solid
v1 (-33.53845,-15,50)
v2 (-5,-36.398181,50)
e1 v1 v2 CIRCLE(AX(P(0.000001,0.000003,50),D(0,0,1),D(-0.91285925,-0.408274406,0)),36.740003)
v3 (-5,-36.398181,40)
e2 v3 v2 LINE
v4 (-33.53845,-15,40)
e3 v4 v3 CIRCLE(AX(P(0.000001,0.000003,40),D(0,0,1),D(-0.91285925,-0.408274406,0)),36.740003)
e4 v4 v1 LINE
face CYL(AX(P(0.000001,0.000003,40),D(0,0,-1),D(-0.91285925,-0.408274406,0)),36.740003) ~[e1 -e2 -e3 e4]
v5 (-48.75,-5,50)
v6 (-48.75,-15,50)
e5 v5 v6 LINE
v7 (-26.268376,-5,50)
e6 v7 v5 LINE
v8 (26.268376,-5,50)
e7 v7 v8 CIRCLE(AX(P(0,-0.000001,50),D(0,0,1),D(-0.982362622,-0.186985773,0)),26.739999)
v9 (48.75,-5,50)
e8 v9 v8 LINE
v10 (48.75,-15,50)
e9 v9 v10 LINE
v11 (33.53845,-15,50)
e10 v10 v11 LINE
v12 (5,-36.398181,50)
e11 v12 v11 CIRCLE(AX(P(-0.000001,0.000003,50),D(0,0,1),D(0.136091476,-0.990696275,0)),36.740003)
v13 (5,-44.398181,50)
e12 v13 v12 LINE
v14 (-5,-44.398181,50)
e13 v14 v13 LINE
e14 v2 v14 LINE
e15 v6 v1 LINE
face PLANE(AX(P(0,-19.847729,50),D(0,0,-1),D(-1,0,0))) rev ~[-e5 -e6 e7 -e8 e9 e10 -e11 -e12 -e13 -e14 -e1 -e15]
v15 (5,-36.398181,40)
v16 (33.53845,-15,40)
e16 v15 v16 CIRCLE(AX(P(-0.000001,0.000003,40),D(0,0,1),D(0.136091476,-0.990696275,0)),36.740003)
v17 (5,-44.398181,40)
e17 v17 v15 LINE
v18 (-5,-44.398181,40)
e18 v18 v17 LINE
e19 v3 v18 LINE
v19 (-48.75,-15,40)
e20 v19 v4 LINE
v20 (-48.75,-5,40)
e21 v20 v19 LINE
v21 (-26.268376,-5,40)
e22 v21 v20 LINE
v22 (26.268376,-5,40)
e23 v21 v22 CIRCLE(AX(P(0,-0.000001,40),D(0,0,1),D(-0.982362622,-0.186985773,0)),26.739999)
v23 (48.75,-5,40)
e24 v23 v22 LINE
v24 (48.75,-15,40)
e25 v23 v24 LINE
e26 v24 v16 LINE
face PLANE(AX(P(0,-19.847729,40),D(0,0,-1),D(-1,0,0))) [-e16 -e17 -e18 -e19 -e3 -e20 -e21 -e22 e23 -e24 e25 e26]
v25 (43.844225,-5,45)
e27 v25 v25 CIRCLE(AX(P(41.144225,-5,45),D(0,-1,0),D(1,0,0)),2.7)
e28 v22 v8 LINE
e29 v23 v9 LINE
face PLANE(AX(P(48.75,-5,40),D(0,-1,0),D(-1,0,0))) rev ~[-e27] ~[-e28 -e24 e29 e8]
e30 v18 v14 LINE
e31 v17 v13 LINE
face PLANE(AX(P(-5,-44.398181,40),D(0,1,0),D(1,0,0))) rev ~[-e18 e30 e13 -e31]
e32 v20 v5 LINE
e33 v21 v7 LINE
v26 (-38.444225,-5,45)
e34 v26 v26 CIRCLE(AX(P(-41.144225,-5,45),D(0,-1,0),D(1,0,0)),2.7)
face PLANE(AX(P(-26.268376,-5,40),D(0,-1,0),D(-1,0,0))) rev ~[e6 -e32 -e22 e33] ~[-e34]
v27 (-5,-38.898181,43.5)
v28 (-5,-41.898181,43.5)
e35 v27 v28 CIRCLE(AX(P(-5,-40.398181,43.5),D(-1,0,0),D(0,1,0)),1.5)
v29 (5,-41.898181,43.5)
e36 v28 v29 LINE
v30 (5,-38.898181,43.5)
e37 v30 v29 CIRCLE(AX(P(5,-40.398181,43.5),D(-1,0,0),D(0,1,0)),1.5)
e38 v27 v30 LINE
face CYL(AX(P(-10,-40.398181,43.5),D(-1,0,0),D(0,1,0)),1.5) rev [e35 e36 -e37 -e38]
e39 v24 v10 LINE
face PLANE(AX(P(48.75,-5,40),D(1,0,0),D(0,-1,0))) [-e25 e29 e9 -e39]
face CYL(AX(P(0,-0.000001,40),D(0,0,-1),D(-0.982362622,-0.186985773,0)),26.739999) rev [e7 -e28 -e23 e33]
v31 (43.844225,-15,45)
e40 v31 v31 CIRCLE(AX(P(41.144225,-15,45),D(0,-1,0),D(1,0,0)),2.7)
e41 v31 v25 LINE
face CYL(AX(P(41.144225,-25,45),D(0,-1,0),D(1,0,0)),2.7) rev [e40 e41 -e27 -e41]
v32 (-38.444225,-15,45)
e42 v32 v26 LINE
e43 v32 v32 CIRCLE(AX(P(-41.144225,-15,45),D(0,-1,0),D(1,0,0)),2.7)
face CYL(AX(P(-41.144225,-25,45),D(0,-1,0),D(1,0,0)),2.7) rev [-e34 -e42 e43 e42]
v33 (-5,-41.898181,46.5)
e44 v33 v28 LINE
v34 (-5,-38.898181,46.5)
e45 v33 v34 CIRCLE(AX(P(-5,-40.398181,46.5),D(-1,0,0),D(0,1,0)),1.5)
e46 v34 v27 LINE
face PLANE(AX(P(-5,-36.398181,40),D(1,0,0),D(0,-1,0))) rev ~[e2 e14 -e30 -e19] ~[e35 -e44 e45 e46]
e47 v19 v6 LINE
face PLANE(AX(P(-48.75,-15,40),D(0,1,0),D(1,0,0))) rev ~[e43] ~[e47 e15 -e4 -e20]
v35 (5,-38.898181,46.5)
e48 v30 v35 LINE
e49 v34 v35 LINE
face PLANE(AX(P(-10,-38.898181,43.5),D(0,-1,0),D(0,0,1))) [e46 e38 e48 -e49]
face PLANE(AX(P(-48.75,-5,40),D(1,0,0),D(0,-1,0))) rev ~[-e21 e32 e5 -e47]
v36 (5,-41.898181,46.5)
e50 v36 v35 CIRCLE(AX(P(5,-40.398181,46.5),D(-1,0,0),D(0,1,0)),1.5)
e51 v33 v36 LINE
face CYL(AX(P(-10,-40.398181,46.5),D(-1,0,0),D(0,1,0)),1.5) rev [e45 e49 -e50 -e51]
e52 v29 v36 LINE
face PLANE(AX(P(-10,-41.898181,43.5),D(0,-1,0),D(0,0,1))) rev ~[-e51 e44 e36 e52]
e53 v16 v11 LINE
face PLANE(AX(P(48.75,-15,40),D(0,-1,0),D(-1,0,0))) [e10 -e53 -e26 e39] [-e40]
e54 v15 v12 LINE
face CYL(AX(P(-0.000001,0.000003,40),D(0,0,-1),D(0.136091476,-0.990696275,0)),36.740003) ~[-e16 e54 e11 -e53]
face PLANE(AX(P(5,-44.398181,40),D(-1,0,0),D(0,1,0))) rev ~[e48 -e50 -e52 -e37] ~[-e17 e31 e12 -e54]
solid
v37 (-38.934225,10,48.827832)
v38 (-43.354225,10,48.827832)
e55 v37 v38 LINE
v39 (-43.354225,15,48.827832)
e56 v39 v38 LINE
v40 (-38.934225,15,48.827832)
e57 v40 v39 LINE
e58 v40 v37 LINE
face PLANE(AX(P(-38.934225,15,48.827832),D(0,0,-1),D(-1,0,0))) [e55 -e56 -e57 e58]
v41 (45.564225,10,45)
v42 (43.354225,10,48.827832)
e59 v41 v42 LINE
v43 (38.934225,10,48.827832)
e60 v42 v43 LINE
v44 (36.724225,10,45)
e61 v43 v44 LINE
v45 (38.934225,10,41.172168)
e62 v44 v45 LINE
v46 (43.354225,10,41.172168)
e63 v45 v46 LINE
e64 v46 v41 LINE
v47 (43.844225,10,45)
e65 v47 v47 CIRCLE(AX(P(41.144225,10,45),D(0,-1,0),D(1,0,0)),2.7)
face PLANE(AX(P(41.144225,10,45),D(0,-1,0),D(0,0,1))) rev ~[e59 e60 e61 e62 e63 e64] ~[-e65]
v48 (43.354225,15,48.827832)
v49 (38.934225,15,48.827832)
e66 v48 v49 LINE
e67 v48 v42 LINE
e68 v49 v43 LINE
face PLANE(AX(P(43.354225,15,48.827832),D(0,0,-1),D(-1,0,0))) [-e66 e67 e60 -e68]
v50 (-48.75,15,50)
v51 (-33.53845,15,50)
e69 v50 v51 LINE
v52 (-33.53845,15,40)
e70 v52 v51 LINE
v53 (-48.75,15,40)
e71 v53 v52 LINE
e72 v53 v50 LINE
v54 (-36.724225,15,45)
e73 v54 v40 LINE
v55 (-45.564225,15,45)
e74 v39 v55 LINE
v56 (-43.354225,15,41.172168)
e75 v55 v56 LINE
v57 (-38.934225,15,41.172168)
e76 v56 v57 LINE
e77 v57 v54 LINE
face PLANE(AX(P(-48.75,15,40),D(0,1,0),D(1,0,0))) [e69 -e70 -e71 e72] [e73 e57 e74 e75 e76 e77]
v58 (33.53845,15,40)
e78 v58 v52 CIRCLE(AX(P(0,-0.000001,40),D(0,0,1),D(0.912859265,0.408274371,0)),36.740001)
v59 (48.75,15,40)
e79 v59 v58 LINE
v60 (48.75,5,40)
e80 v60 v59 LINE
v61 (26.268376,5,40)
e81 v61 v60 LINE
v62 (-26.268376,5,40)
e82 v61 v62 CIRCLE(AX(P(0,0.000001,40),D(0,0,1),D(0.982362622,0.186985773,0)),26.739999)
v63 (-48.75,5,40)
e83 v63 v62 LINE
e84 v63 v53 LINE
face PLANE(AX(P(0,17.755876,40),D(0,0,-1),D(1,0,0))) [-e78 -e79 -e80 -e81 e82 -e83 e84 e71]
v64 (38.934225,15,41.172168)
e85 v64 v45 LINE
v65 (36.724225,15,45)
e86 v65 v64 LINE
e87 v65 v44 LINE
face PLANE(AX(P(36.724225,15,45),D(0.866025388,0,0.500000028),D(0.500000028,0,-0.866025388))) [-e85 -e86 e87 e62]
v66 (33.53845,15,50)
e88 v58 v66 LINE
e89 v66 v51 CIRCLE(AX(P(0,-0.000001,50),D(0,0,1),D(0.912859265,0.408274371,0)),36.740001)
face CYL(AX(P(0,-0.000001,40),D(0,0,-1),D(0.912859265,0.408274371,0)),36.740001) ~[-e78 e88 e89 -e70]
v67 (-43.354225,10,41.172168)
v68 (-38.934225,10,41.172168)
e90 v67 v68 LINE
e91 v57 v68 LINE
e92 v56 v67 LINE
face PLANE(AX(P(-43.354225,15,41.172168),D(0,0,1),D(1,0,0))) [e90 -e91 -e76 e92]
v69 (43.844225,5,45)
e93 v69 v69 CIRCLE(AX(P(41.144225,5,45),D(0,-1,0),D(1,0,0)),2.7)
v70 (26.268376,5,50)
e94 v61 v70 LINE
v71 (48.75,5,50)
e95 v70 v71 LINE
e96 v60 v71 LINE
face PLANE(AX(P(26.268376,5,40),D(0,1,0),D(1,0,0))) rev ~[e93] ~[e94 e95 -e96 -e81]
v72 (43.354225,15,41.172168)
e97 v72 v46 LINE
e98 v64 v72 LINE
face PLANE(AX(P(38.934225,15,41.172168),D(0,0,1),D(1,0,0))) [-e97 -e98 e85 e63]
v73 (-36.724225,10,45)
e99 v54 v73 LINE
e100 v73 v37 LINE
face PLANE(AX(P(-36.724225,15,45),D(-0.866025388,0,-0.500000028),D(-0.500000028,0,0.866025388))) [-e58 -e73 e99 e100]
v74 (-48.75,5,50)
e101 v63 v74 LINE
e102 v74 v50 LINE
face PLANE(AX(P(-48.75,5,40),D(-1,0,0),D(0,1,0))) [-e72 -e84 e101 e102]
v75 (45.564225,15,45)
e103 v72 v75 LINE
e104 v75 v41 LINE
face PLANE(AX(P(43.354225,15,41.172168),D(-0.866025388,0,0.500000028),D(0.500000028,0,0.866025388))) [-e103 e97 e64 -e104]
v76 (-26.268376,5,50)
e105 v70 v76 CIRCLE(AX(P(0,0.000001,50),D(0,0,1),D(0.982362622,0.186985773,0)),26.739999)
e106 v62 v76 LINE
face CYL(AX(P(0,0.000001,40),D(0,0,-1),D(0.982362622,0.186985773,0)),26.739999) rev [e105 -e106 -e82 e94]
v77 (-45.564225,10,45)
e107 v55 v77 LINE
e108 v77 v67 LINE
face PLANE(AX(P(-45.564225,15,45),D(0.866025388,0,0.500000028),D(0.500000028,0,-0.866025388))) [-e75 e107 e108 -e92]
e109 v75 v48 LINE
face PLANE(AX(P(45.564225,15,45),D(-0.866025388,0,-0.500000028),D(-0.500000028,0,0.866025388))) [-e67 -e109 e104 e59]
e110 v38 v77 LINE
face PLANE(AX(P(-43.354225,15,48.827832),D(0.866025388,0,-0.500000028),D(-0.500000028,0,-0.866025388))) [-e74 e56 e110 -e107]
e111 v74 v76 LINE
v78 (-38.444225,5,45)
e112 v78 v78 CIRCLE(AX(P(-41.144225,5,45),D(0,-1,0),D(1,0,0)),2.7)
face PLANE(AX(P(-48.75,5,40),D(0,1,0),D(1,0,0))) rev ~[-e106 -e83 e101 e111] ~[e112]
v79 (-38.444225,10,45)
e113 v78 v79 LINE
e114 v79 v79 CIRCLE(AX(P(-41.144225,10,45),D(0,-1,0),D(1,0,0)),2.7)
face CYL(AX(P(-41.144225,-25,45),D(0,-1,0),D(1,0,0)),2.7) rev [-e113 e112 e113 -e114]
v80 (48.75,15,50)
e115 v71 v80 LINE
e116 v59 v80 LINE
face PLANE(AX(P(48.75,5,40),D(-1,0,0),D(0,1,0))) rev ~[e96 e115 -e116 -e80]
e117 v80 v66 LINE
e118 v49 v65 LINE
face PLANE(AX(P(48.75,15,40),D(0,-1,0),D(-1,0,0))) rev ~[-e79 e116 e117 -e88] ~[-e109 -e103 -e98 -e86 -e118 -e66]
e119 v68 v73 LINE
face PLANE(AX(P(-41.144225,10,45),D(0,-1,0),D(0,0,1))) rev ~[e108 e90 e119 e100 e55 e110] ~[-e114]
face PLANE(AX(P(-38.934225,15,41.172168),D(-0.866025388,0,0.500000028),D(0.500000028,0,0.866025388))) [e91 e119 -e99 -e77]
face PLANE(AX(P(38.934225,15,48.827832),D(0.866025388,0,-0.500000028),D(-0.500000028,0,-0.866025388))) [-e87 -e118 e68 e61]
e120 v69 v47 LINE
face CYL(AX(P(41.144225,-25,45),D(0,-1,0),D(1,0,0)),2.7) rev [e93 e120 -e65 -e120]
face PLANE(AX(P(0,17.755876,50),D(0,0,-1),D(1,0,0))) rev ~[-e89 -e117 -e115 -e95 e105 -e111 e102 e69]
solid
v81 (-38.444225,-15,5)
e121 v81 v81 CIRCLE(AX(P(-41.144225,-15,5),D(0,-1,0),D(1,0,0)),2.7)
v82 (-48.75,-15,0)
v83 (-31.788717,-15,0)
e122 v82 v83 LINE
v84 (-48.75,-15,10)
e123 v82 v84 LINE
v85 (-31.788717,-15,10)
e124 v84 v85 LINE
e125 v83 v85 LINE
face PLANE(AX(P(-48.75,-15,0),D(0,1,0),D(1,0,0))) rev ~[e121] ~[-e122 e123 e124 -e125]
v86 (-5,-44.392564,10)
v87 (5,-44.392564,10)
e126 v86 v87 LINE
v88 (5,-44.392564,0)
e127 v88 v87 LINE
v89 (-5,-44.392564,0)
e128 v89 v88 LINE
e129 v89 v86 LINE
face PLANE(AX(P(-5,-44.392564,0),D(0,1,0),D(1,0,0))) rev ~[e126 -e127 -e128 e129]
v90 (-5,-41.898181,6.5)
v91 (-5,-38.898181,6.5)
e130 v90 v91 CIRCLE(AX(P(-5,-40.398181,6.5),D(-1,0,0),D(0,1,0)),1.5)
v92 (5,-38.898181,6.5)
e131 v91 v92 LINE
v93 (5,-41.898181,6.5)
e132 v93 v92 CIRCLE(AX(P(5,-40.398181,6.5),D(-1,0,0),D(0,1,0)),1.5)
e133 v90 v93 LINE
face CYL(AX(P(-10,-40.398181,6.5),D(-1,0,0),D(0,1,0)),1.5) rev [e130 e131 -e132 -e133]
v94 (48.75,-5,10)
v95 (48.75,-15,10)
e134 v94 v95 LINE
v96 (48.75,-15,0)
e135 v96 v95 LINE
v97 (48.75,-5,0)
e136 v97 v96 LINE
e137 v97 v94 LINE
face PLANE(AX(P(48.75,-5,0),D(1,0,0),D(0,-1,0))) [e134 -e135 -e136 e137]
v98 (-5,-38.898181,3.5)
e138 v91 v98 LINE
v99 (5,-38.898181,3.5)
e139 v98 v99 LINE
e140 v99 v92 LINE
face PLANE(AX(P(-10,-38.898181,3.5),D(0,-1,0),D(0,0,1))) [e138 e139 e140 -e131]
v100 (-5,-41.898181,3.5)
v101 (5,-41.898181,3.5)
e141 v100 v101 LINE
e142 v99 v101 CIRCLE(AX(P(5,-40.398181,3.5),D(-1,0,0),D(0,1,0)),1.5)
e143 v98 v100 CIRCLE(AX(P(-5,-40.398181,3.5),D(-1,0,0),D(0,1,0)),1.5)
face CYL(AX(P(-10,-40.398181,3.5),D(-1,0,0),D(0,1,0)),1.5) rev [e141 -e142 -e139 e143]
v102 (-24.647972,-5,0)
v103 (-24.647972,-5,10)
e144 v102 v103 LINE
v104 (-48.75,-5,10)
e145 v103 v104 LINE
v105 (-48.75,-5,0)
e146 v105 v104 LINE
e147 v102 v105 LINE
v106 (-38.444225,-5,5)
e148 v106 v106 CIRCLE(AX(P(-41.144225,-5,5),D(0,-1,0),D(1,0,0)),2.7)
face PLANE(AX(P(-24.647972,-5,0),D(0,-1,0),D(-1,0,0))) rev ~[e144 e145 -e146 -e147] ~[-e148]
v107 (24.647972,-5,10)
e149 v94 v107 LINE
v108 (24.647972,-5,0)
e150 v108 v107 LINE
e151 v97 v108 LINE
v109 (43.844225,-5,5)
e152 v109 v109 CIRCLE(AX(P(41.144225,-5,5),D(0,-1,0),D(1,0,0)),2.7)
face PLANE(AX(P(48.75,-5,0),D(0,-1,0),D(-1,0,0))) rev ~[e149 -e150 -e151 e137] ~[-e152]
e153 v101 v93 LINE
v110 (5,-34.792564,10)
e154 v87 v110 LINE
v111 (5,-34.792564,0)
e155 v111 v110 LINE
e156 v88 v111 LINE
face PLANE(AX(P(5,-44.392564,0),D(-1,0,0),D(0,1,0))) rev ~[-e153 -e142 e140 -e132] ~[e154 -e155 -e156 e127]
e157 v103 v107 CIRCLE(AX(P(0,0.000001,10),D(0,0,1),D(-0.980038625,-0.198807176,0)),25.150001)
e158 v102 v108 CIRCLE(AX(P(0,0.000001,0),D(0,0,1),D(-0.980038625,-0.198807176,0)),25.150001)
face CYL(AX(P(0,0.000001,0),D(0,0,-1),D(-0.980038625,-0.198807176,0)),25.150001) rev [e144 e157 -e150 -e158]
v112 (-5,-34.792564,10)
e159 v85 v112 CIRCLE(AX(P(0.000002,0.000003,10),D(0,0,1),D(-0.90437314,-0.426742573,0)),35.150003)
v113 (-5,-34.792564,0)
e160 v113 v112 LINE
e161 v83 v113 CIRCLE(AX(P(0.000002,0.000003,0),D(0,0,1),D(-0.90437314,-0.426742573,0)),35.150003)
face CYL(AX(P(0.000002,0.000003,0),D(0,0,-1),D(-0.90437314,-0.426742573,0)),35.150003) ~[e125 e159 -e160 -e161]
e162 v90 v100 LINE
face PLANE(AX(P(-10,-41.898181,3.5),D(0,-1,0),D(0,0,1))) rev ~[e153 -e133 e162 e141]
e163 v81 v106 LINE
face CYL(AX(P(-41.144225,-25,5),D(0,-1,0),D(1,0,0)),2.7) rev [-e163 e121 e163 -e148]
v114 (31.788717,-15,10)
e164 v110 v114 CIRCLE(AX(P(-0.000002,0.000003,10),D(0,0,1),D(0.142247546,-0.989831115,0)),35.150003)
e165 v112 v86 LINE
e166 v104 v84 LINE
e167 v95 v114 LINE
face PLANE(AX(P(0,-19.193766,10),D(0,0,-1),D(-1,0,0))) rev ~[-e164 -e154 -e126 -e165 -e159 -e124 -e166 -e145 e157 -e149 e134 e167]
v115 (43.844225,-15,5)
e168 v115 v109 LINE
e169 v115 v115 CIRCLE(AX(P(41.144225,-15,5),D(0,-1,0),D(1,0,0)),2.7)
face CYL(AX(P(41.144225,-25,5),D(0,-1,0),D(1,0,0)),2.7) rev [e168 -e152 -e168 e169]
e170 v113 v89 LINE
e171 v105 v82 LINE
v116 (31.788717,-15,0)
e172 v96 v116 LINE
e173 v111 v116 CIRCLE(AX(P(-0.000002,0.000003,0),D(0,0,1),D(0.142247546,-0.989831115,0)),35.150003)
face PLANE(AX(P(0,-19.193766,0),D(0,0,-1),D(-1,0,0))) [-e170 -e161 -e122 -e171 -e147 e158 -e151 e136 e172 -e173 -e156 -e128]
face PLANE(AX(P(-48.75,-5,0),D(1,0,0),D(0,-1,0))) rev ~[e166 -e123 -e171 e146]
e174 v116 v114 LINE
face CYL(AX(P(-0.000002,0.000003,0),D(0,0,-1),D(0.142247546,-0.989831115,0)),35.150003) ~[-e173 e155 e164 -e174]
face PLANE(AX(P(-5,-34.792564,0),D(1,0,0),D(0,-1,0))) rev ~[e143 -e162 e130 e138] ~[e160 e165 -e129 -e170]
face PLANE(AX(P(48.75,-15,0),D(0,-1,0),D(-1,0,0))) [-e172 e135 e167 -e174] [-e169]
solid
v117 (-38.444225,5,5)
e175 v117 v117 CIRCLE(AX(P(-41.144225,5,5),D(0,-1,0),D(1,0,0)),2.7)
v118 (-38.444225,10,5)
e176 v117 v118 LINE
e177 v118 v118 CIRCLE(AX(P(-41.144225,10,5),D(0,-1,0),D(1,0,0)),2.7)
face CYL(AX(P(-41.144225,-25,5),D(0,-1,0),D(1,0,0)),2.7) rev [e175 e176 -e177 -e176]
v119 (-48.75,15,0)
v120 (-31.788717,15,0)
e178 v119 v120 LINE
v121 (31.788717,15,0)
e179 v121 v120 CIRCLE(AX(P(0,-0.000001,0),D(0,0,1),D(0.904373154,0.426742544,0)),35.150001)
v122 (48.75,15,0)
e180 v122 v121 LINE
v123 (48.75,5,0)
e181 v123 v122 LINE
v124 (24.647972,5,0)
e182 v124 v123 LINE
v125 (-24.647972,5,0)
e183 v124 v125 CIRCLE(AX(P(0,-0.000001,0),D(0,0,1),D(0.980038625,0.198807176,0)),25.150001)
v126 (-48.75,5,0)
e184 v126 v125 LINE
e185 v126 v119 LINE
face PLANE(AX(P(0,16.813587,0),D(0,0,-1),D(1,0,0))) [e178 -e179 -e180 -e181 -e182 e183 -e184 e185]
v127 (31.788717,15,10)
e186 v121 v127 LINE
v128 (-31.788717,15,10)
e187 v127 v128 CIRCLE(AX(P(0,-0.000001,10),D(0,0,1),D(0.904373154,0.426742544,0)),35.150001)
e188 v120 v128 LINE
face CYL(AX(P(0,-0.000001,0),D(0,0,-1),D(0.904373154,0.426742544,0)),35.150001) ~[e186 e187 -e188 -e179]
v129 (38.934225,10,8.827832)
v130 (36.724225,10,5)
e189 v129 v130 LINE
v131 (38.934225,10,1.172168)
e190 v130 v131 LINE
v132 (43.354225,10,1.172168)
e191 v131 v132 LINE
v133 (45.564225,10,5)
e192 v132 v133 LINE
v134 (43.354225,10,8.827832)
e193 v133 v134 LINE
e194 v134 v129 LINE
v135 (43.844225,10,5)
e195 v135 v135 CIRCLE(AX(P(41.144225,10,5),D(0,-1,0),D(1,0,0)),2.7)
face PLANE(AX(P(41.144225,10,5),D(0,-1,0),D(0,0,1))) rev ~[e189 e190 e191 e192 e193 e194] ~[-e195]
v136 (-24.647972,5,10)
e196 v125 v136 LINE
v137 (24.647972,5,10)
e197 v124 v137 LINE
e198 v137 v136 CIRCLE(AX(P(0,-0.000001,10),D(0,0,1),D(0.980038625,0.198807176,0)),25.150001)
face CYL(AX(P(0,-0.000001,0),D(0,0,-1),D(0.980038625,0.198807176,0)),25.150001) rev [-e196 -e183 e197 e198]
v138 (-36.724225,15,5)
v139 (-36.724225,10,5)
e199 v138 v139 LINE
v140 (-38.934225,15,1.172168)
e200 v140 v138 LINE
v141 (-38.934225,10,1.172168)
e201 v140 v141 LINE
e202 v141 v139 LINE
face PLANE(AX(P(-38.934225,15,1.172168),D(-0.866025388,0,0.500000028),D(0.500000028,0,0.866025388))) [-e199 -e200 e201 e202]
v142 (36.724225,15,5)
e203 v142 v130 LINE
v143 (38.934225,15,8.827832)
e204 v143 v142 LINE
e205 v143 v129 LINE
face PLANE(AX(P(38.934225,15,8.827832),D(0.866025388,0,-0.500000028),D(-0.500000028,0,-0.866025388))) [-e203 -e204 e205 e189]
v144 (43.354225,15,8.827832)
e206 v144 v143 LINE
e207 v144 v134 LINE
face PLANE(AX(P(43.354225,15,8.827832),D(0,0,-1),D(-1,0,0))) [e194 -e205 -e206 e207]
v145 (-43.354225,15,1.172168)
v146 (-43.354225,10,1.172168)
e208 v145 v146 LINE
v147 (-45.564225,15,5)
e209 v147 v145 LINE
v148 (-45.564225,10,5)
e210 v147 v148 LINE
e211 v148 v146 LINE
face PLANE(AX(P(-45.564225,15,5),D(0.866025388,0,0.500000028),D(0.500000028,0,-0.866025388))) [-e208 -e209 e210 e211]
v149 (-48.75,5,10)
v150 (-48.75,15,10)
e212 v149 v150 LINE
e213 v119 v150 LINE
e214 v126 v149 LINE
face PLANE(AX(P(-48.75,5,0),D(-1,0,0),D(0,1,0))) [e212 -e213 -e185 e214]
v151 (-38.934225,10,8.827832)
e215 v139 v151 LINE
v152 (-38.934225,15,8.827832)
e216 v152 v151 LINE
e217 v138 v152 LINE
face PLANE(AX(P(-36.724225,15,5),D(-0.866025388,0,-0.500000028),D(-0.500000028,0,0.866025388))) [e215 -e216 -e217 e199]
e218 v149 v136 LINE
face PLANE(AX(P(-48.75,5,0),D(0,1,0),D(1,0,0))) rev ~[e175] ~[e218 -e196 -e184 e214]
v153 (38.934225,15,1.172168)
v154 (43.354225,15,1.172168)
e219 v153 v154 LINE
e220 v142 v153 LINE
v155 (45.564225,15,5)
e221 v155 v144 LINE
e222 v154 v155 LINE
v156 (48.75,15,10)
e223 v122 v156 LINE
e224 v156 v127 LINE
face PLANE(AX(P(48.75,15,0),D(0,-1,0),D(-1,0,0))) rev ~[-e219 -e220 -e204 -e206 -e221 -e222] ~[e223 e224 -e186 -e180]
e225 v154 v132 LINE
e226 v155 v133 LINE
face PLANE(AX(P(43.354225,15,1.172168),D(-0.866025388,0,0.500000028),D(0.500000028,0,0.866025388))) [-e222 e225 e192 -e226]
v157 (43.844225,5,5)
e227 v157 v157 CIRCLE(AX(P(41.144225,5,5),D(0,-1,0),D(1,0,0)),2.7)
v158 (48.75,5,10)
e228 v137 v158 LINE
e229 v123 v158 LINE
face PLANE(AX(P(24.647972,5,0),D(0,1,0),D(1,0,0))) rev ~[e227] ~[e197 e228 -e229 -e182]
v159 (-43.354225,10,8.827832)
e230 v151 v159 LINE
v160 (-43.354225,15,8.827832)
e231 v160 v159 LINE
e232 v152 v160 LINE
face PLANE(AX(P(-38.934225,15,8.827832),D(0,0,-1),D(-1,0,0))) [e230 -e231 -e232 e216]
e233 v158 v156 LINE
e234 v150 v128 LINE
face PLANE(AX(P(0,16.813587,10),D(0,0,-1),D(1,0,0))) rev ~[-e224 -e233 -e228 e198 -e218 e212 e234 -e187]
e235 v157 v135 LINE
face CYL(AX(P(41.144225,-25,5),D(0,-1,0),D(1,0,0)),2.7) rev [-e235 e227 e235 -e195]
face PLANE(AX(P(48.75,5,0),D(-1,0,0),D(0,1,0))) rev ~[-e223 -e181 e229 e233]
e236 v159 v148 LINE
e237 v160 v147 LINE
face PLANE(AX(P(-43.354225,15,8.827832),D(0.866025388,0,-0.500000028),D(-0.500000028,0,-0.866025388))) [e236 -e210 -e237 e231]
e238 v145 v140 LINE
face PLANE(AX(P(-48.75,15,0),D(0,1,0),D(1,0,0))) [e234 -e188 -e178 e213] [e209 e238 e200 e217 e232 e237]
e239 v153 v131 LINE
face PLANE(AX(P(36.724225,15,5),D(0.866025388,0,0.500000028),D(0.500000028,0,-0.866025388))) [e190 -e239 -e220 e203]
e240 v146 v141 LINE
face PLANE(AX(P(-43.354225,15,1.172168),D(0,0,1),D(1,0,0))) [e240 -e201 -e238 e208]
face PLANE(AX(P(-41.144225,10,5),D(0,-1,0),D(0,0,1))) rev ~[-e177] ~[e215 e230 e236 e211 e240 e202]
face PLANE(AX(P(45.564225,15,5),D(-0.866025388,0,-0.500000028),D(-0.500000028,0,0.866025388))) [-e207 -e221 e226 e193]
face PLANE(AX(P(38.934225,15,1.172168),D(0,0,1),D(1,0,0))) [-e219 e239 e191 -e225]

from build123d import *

# Parameters (mm, degrees)
EXTRUDE001_DEPTH          = 5
EXTRUDE001_ROLL_ANGLE     = 90
EXTRUDE002_DEPTH          = 5
EXTRUDE002_ROLL_ANGLE     = 90
CYLINDER006_R             = 2.7
CYLINDER006_DEPTH         = 60
CYLINDER006_ROLL_ANGLE    = -90
CYLINDER004_R             = 2.7
CYLINDER004_DEPTH         = 60
CYLINDER004_ROLL_ANGLE    = -90
PAD004_DEPTH              = 10
EXTRUDE_DEPTH             = 5
EXTRUDE_ROLL_ANGLE        = 90
EXTRUDE003_DEPTH          = 5
EXTRUDE003_ROLL_ANGLE     = 90
CYLINDER007_R             = 2.7
CYLINDER007_DEPTH         = 60
CYLINDER007_ROLL_ANGLE    = -90
CYLINDER005_R             = 2.7
CYLINDER005_DEPTH         = 60
CYLINDER005_ROLL_ANGLE    = -90
PAD006_DEPTH              = 10
BOX_W                     = 3
BOX_H                     = 3
BOX_DEPTH                 = 20
CYLINDER008_R             = 1.5
CYLINDER008_DEPTH         = 20
CYLINDER009_R             = 1.5
CYLINDER009_DEPTH         = 20
FUSION_ROLL_ANGLE         = 90
FUSION_PLACEMENT_ANGLE    = 90
CYLINDER002_R             = 2.7
CYLINDER002_DEPTH         = 60
CYLINDER002_ROLL_ANGLE    = -90
CYLINDER_R                = 2.7
CYLINDER_DEPTH            = 60
CYLINDER_ROLL_ANGLE       = -90
PAD_DEPTH                 = 10
BOX001_W                  = 3
BOX001_H                  = 3
BOX001_DEPTH              = 20
CYLINDER010_R             = 1.5
CYLINDER010_DEPTH         = 20
CYLINDER011_R             = 1.5
CYLINDER011_DEPTH         = 20
FUSION001_ROLL_ANGLE      = 90
FUSION001_PLACEMENT_ANGLE = 90
CYLINDER003_R             = 2.7
CYLINDER003_DEPTH         = 60
CYLINDER003_ROLL_ANGLE    = -90
CYLINDER001_R             = 2.7
CYLINDER001_DEPTH         = 60
CYLINDER001_ROLL_ANGLE    = -90
PAD005_DEPTH              = 10


with BuildPart() as top_right_nut:
    # RegularPolygon001 → Extrude001 (new body)
    with BuildSketch(Plane(origin=(0, 0, 0), x_dir=(0, 1, 0), z_dir=(0, 0, 1))):
        Polygon((0, -4.42), (3.827832, -2.21), (3.827832, 2.21), (0, 4.42), (-3.827832, 2.21), (-3.827832, -2.21), align=None)
    extrude(amount=EXTRUDE001_DEPTH)


with BuildPart() as top_right_nut_1:
    # Extrude001 roll: moved
    add(top_right_nut.part.rotate(Axis((0, 0, 0), (1, 0, 0)), EXTRUDE001_ROLL_ANGLE))


with BuildPart() as top_right_nut_2:
    # Extrude001 placement: moved
    add(top_right_nut_1.part.moved(Location((41.144225, 15, 45))))


with BuildPart() as top_left_nut:
    # RegularPolygon002 → Extrude002 (new body)
    with BuildSketch(Plane(origin=(0, 0, 0), x_dir=(0, 1, 0), z_dir=(0, 0, 1))):
        Polygon((0, -4.42), (3.827832, -2.21), (3.827832, 2.21), (0, 4.42), (-3.827832, 2.21), (-3.827832, -2.21), align=None)
    extrude(amount=EXTRUDE002_DEPTH)


with BuildPart() as top_left_nut_1:
    # Extrude002 roll: moved
    add(top_left_nut.part.rotate(Axis((0, 0, 0), (1, 0, 0)), EXTRUDE002_ROLL_ANGLE))


with BuildPart() as top_left_nut_2:
    # Extrude002 placement: moved
    add(top_left_nut_1.part.moved(Location((-41.144225, 15, 45))))


with BuildPart() as cyl_top_right001:
    # Cylinder006 → Cylinder006 (new body)
    with BuildSketch(Plane.XY):
        Circle(CYLINDER006_R)
    extrude(amount=CYLINDER006_DEPTH)


with BuildPart() as cyl_top_right001_1:
    # Cylinder006 roll: moved
    add(cyl_top_right001.part.rotate(Axis((0, 0, 0), (1, 0, 0)), CYLINDER006_ROLL_ANGLE))


with BuildPart() as cyl_top_right001_2:
    # Cylinder006 placement: moved
    add(cyl_top_right001_1.part.moved(Location((41.144225, -25, 45))))


with BuildPart() as cyl_top_left001:
    # Cylinder004 → Cylinder004 (new body)
    with BuildSketch(Plane.XY):
        Circle(CYLINDER004_R)
    extrude(amount=CYLINDER004_DEPTH)


with BuildPart() as cyl_top_left001_1:
    # Cylinder004 roll: moved
    add(cyl_top_left001.part.rotate(Axis((0, 0, 0), (1, 0, 0)), CYLINDER004_ROLL_ANGLE))


with BuildPart() as cyl_top_left001_2:
    # Cylinder004 placement: moved
    add(cyl_top_left001_1.part.moved(Location((-41.144225, -25, 45))))


with BuildPart() as rear_top_clamp_nut_holes:
    # Sketch004 → Pad004 (new body)
    with BuildSketch(Plane(origin=(0, 0, 40), x_dir=(-1, 0, 0), z_dir=(0, 0, 1))):
        with BuildLine():
            ThreePointArc((-26.268376, -5), (0, -26.74), (26.268376, -5))
            Line((48.75, -5), (26.268376, -5))
            Line((48.75, -5), (48.75, -15))
            Line((48.75, -15), (33.53845, -15))
            ThreePointArc((-33.53845, -15), (0, -36.74), (33.53845, -15))
            Line((-48.75, -15), (-33.53845, -15))
            Line((-48.75, -5), (-48.75, -15))
            Line((-26.268376, -5), (-48.75, -5))
        make_face()
    extrude(amount=PAD004_DEPTH)

    # Cut001: cut cyl_top_left001
    add(cyl_top_left001_2.part, mode=Mode.SUBTRACT)

    # Cut005: cut cyl_top_right001
    add(cyl_top_right001_2.part, mode=Mode.SUBTRACT)

    # Cut008: cut top_left_nut
    add(top_left_nut_2.part, mode=Mode.SUBTRACT)

    # Cut009: cut top_right_nut
    add(top_right_nut_2.part, mode=Mode.SUBTRACT)


with BuildPart() as bottom_right_nut:
    # RegularPolygon → Extrude (new body)
    with BuildSketch(Plane(origin=(0, 0, 0), x_dir=(0, 1, 0), z_dir=(0, 0, 1))):
        Polygon((0, -4.42), (3.827832, -2.21), (3.827832, 2.21), (0, 4.42), (-3.827832, 2.21), (-3.827832, -2.21), align=None)
    extrude(amount=EXTRUDE_DEPTH)


with BuildPart() as bottom_right_nut_1:
    # Extrude roll: moved
    add(bottom_right_nut.part.rotate(Axis((0, 0, 0), (1, 0, 0)), EXTRUDE_ROLL_ANGLE))


with BuildPart() as bottom_right_nut_2:
    # Extrude placement: moved
    add(bottom_right_nut_1.part.moved(Location((41.144225, 15, 5))))


with BuildPart() as bottom_left_nut:
    # RegularPolygon003 → Extrude003 (new body)
    with BuildSketch(Plane(origin=(0, 0, 0), x_dir=(0, 1, 0), z_dir=(0, 0, 1))):
        Polygon((0, -4.42), (3.827832, -2.21), (3.827832, 2.21), (0, 4.42), (-3.827832, 2.21), (-3.827832, -2.21), align=None)
    extrude(amount=EXTRUDE003_DEPTH)


with BuildPart() as bottom_left_nut_1:
    # Extrude003 roll: moved
    add(bottom_left_nut.part.rotate(Axis((0, 0, 0), (1, 0, 0)), EXTRUDE003_ROLL_ANGLE))


with BuildPart() as bottom_left_nut_2:
    # Extrude003 placement: moved
    add(bottom_left_nut_1.part.moved(Location((-41.144225, 15, 5))))


with BuildPart() as cyl_bottom_right001:
    # Cylinder007 → Cylinder007 (new body)
    with BuildSketch(Plane.XY):
        Circle(CYLINDER007_R)
    extrude(amount=CYLINDER007_DEPTH)


with BuildPart() as cyl_bottom_right001_1:
    # Cylinder007 roll: moved
    add(cyl_bottom_right001.part.rotate(Axis((0, 0, 0), (1, 0, 0)), CYLINDER007_ROLL_ANGLE))


with BuildPart() as cyl_bottom_right001_2:
    # Cylinder007 placement: moved
    add(cyl_bottom_right001_1.part.moved(Location((41.144225, -25, 5))))


with BuildPart() as cyl_bottom_left001:
    # Cylinder005 → Cylinder005 (new body)
    with BuildSketch(Plane.XY):
        Circle(CYLINDER005_R)
    extrude(amount=CYLINDER005_DEPTH)


with BuildPart() as cyl_bottom_left001_1:
    # Cylinder005 roll: moved
    add(cyl_bottom_left001.part.rotate(Axis((0, 0, 0), (1, 0, 0)), CYLINDER005_ROLL_ANGLE))


with BuildPart() as cyl_bottom_left001_2:
    # Cylinder005 placement: moved
    add(cyl_bottom_left001_1.part.moved(Location((-41.144225, -25, 5))))


with BuildPart() as rear_bottom_clamp_nut_holes:
    # Sketch006 → Pad006 (new body)
    with BuildSketch(Plane(origin=(0, 0, 0), x_dir=(-1, 0, 0), z_dir=(0, 0, 1))):
        with BuildLine():
            ThreePointArc((-24.647972, -5), (0, -25.15), (24.647972, -5))
            Line((48.75, -5), (24.647972, -5))
            Line((48.75, -5), (48.75, -15))
            Line((48.75, -15), (31.788717, -15))
            ThreePointArc((-31.788717, -15), (0, -35.15), (31.788717, -15))
            Line((-48.75, -15), (-31.788717, -15))
            Line((-48.75, -5), (-48.75, -15))
            Line((-24.647972, -5), (-48.75, -5))
        make_face()
    extrude(amount=PAD006_DEPTH)

    # Cut003: cut cyl_bottom_left001
    add(cyl_bottom_left001_2.part, mode=Mode.SUBTRACT)

    # Cut007: cut cyl_bottom_right001
    add(cyl_bottom_right001_2.part, mode=Mode.SUBTRACT)

    # Cut010: cut bottom_left_nut
    add(bottom_left_nut_2.part, mode=Mode.SUBTRACT)

    # Cut011: cut bottom_right_nut
    add(bottom_right_nut_2.part, mode=Mode.SUBTRACT)


with BuildPart() as cube:
    # Box → Box (new body)
    with BuildSketch(Plane(origin=(-1.5, -1.5, 0), x_dir=(1, 0, 0), z_dir=(0, 0, 1))):
        with Locations((1.5, 1.5)):
            Rectangle(BOX_W, BOX_H)
    extrude(amount=BOX_DEPTH)


with BuildPart() as cylinder:
    # Cylinder008 → Cylinder008 (new body)
    with BuildSketch(Plane(origin=(0, -1.5, 0), x_dir=(1, 0, 0), z_dir=(0, 0, 1))):
        Circle(CYLINDER008_R)
    extrude(amount=CYLINDER008_DEPTH)


with BuildPart() as hueco_soporte:
    # Cylinder009 → Cylinder009 (new body)
    with BuildSketch(Plane(origin=(0, 1.5, 0), x_dir=(1, 0, 0), z_dir=(0, 0, 1))):
        Circle(CYLINDER009_R)
    extrude(amount=CYLINDER009_DEPTH)

    # Fusion: union Cube, Cylinder
    add(cube.part)
    add(cylinder.part)


with BuildPart() as hueco_soporte_1:
    # Fusion roll: moved
    add(hueco_soporte.part.rotate(Axis((0, 0, 0), (1, 0, 0)), FUSION_ROLL_ANGLE))


with BuildPart() as hueco_soporte_2:
    # Fusion placement: moved
    add(hueco_soporte_1.part.moved(Location((-10, -40.398181, 45))).rotate(Axis((-10, -40.398181, 45), (0, 0, 1)), FUSION_PLACEMENT_ANGLE))


with BuildPart() as cyl_top_right:
    # Cylinder002 → Cylinder002 (new body)
    with BuildSketch(Plane.XY):
        Circle(CYLINDER002_R)
    extrude(amount=CYLINDER002_DEPTH)


with BuildPart() as cyl_top_right_1:
    # Cylinder002 roll: moved
    add(cyl_top_right.part.rotate(Axis((0, 0, 0), (1, 0, 0)), CYLINDER002_ROLL_ANGLE))


with BuildPart() as cyl_top_right_2:
    # Cylinder002 placement: moved
    add(cyl_top_right_1.part.moved(Location((41.144225, -25, 45))))


with BuildPart() as cyl_top_left:
    # Cylinder → Cylinder (new body)
    with BuildSketch(Plane.XY):
        Circle(CYLINDER_R)
    extrude(amount=CYLINDER_DEPTH)


with BuildPart() as cyl_top_left_1:
    # Cylinder roll: moved
    add(cyl_top_left.part.rotate(Axis((0, 0, 0), (1, 0, 0)), CYLINDER_ROLL_ANGLE))


with BuildPart() as cyl_top_left_2:
    # Cylinder placement: moved
    add(cyl_top_left_1.part.moved(Location((-41.144225, -25, 45))))


with BuildPart() as fore_top_clamp_all_holes:
    # Sketch → Pad (new body)
    with BuildSketch(Plane.XY.offset(40)):
        with BuildLine():
            ThreePointArc((-26.268376, -5), (0, -26.74), (26.268376, -5))
            Line((48.75, -5), (26.268376, -5))
            Line((48.75, -5), (48.75, -15))
            Line((48.75, -15), (33.53845, -15))
            ThreePointArc((5, -36.398181), (22.040271, -29.394796), (33.53845, -15))
            Line((5, -44.398181), (5, -36.398181))
            Line((-5, -44.398181), (5, -44.398181))
            Line((-5, -36.398181), (-5, -44.398181))
            ThreePointArc((-33.53845, -15), (-22.040271, -29.394796), (-5, -36.398181))
            Line((-48.75, -15), (-33.53845, -15))
            Line((-48.75, -5), (-48.75, -15))
            Line((-26.268376, -5), (-48.75, -5))
        make_face()
    extrude(amount=PAD_DEPTH)

    # Cut: cut cyl_top_left
    add(cyl_top_left_2.part, mode=Mode.SUBTRACT)

    # Cut004: cut cyl_top_right
    add(cyl_top_right_2.part, mode=Mode.SUBTRACT)

    # Cut012: cut hueco_soporte
    add(hueco_soporte_2.part, mode=Mode.SUBTRACT)


with BuildPart() as cube001:
    # Box001 → Box001 (new body)
    with BuildSketch(Plane(origin=(-1.5, -1.5, 0), x_dir=(1, 0, 0), z_dir=(0, 0, 1))):
        with Locations((1.5, 1.5)):
            Rectangle(BOX001_W, BOX001_H)
    extrude(amount=BOX001_DEPTH)


with BuildPart() as cylinder012:
    # Cylinder010 → Cylinder010 (new body)
    with BuildSketch(Plane(origin=(0, -1.5, 0), x_dir=(1, 0, 0), z_dir=(0, 0, 1))):
        Circle(CYLINDER010_R)
    extrude(amount=CYLINDER010_DEPTH)


with BuildPart() as hueco_soporte001:
    # Cylinder011 → Cylinder011 (new body)
    with BuildSketch(Plane(origin=(0, 1.5, 0), x_dir=(1, 0, 0), z_dir=(0, 0, 1))):
        Circle(CYLINDER011_R)
    extrude(amount=CYLINDER011_DEPTH)

    # Fusion001: union Cube001, Cylinder012
    add(cube001.part)
    add(cylinder012.part)


with BuildPart() as hueco_soporte001_1:
    # Fusion001 roll: moved
    add(hueco_soporte001.part.rotate(Axis((0, 0, 0), (1, 0, 0)), FUSION001_ROLL_ANGLE))


with BuildPart() as hueco_soporte001_2:
    # Fusion001 placement: moved
    add(hueco_soporte001_1.part.moved(Location((-10, -40.398181, 5))).rotate(Axis((-10, -40.398181, 5), (0, 0, 1)), FUSION001_PLACEMENT_ANGLE))


with BuildPart() as cyl_bottom_right:
    # Cylinder003 → Cylinder003 (new body)
    with BuildSketch(Plane.XY):
        Circle(CYLINDER003_R)
    extrude(amount=CYLINDER003_DEPTH)


with BuildPart() as cyl_bottom_right_1:
    # Cylinder003 roll: moved
    add(cyl_bottom_right.part.rotate(Axis((0, 0, 0), (1, 0, 0)), CYLINDER003_ROLL_ANGLE))


with BuildPart() as cyl_bottom_right_2:
    # Cylinder003 placement: moved
    add(cyl_bottom_right_1.part.moved(Location((41.144225, -25, 5))))


with BuildPart() as cyl_bottom_left:
    # Cylinder001 → Cylinder001 (new body)
    with BuildSketch(Plane.XY):
        Circle(CYLINDER001_R)
    extrude(amount=CYLINDER001_DEPTH)


with BuildPart() as cyl_bottom_left_1:
    # Cylinder001 roll: moved
    add(cyl_bottom_left.part.rotate(Axis((0, 0, 0), (1, 0, 0)), CYLINDER001_ROLL_ANGLE))


with BuildPart() as cyl_bottom_left_2:
    # Cylinder001 placement: moved
    add(cyl_bottom_left_1.part.moved(Location((-41.144225, -25, 5))))


with BuildPart() as fore_bottom_clamp_all_holes:
    # Sketch005 → Pad005 (new body)
    with BuildSketch(Plane.XY):
        with BuildLine():
            ThreePointArc((-24.647972, -5), (0, -25.15), (24.647972, -5))
            Line((48.75, -5), (24.647972, -5))
            Line((48.75, -5), (48.75, -15))
            Line((48.75, -15), (31.788717, -15))
            ThreePointArc((5, -34.792564), (20.887528, -28.270721), (31.788717, -15))
            Line((5, -44.392564), (5, -34.792564))
            Line((-5, -44.392564), (5, -44.392564))
            Line((-5, -34.792564), (-5, -44.392564))
            ThreePointArc((-31.788717, -15), (-20.887528, -28.270721), (-5, -34.792564))
            Line((-48.75, -15), (-31.788717, -15))
            Line((-48.75, -5), (-48.75, -15))
            Line((-24.647972, -5), (-48.75, -5))
        make_face()
    extrude(amount=PAD005_DEPTH)

    # Cut002: cut cyl_bottom_left
    add(cyl_bottom_left_2.part, mode=Mode.SUBTRACT)

    # Cut006: cut cyl_bottom_right
    add(cyl_bottom_right_2.part, mode=Mode.SUBTRACT)

    # Cut013: cut hueco_soporte001
    add(hueco_soporte001_2.part, mode=Mode.SUBTRACT)


solid = Compound([rear_top_clamp_nut_holes.part, rear_bottom_clamp_nut_holes.part, fore_top_clamp_all_holes.part, fore_bottom_clamp_all_holes.part])
